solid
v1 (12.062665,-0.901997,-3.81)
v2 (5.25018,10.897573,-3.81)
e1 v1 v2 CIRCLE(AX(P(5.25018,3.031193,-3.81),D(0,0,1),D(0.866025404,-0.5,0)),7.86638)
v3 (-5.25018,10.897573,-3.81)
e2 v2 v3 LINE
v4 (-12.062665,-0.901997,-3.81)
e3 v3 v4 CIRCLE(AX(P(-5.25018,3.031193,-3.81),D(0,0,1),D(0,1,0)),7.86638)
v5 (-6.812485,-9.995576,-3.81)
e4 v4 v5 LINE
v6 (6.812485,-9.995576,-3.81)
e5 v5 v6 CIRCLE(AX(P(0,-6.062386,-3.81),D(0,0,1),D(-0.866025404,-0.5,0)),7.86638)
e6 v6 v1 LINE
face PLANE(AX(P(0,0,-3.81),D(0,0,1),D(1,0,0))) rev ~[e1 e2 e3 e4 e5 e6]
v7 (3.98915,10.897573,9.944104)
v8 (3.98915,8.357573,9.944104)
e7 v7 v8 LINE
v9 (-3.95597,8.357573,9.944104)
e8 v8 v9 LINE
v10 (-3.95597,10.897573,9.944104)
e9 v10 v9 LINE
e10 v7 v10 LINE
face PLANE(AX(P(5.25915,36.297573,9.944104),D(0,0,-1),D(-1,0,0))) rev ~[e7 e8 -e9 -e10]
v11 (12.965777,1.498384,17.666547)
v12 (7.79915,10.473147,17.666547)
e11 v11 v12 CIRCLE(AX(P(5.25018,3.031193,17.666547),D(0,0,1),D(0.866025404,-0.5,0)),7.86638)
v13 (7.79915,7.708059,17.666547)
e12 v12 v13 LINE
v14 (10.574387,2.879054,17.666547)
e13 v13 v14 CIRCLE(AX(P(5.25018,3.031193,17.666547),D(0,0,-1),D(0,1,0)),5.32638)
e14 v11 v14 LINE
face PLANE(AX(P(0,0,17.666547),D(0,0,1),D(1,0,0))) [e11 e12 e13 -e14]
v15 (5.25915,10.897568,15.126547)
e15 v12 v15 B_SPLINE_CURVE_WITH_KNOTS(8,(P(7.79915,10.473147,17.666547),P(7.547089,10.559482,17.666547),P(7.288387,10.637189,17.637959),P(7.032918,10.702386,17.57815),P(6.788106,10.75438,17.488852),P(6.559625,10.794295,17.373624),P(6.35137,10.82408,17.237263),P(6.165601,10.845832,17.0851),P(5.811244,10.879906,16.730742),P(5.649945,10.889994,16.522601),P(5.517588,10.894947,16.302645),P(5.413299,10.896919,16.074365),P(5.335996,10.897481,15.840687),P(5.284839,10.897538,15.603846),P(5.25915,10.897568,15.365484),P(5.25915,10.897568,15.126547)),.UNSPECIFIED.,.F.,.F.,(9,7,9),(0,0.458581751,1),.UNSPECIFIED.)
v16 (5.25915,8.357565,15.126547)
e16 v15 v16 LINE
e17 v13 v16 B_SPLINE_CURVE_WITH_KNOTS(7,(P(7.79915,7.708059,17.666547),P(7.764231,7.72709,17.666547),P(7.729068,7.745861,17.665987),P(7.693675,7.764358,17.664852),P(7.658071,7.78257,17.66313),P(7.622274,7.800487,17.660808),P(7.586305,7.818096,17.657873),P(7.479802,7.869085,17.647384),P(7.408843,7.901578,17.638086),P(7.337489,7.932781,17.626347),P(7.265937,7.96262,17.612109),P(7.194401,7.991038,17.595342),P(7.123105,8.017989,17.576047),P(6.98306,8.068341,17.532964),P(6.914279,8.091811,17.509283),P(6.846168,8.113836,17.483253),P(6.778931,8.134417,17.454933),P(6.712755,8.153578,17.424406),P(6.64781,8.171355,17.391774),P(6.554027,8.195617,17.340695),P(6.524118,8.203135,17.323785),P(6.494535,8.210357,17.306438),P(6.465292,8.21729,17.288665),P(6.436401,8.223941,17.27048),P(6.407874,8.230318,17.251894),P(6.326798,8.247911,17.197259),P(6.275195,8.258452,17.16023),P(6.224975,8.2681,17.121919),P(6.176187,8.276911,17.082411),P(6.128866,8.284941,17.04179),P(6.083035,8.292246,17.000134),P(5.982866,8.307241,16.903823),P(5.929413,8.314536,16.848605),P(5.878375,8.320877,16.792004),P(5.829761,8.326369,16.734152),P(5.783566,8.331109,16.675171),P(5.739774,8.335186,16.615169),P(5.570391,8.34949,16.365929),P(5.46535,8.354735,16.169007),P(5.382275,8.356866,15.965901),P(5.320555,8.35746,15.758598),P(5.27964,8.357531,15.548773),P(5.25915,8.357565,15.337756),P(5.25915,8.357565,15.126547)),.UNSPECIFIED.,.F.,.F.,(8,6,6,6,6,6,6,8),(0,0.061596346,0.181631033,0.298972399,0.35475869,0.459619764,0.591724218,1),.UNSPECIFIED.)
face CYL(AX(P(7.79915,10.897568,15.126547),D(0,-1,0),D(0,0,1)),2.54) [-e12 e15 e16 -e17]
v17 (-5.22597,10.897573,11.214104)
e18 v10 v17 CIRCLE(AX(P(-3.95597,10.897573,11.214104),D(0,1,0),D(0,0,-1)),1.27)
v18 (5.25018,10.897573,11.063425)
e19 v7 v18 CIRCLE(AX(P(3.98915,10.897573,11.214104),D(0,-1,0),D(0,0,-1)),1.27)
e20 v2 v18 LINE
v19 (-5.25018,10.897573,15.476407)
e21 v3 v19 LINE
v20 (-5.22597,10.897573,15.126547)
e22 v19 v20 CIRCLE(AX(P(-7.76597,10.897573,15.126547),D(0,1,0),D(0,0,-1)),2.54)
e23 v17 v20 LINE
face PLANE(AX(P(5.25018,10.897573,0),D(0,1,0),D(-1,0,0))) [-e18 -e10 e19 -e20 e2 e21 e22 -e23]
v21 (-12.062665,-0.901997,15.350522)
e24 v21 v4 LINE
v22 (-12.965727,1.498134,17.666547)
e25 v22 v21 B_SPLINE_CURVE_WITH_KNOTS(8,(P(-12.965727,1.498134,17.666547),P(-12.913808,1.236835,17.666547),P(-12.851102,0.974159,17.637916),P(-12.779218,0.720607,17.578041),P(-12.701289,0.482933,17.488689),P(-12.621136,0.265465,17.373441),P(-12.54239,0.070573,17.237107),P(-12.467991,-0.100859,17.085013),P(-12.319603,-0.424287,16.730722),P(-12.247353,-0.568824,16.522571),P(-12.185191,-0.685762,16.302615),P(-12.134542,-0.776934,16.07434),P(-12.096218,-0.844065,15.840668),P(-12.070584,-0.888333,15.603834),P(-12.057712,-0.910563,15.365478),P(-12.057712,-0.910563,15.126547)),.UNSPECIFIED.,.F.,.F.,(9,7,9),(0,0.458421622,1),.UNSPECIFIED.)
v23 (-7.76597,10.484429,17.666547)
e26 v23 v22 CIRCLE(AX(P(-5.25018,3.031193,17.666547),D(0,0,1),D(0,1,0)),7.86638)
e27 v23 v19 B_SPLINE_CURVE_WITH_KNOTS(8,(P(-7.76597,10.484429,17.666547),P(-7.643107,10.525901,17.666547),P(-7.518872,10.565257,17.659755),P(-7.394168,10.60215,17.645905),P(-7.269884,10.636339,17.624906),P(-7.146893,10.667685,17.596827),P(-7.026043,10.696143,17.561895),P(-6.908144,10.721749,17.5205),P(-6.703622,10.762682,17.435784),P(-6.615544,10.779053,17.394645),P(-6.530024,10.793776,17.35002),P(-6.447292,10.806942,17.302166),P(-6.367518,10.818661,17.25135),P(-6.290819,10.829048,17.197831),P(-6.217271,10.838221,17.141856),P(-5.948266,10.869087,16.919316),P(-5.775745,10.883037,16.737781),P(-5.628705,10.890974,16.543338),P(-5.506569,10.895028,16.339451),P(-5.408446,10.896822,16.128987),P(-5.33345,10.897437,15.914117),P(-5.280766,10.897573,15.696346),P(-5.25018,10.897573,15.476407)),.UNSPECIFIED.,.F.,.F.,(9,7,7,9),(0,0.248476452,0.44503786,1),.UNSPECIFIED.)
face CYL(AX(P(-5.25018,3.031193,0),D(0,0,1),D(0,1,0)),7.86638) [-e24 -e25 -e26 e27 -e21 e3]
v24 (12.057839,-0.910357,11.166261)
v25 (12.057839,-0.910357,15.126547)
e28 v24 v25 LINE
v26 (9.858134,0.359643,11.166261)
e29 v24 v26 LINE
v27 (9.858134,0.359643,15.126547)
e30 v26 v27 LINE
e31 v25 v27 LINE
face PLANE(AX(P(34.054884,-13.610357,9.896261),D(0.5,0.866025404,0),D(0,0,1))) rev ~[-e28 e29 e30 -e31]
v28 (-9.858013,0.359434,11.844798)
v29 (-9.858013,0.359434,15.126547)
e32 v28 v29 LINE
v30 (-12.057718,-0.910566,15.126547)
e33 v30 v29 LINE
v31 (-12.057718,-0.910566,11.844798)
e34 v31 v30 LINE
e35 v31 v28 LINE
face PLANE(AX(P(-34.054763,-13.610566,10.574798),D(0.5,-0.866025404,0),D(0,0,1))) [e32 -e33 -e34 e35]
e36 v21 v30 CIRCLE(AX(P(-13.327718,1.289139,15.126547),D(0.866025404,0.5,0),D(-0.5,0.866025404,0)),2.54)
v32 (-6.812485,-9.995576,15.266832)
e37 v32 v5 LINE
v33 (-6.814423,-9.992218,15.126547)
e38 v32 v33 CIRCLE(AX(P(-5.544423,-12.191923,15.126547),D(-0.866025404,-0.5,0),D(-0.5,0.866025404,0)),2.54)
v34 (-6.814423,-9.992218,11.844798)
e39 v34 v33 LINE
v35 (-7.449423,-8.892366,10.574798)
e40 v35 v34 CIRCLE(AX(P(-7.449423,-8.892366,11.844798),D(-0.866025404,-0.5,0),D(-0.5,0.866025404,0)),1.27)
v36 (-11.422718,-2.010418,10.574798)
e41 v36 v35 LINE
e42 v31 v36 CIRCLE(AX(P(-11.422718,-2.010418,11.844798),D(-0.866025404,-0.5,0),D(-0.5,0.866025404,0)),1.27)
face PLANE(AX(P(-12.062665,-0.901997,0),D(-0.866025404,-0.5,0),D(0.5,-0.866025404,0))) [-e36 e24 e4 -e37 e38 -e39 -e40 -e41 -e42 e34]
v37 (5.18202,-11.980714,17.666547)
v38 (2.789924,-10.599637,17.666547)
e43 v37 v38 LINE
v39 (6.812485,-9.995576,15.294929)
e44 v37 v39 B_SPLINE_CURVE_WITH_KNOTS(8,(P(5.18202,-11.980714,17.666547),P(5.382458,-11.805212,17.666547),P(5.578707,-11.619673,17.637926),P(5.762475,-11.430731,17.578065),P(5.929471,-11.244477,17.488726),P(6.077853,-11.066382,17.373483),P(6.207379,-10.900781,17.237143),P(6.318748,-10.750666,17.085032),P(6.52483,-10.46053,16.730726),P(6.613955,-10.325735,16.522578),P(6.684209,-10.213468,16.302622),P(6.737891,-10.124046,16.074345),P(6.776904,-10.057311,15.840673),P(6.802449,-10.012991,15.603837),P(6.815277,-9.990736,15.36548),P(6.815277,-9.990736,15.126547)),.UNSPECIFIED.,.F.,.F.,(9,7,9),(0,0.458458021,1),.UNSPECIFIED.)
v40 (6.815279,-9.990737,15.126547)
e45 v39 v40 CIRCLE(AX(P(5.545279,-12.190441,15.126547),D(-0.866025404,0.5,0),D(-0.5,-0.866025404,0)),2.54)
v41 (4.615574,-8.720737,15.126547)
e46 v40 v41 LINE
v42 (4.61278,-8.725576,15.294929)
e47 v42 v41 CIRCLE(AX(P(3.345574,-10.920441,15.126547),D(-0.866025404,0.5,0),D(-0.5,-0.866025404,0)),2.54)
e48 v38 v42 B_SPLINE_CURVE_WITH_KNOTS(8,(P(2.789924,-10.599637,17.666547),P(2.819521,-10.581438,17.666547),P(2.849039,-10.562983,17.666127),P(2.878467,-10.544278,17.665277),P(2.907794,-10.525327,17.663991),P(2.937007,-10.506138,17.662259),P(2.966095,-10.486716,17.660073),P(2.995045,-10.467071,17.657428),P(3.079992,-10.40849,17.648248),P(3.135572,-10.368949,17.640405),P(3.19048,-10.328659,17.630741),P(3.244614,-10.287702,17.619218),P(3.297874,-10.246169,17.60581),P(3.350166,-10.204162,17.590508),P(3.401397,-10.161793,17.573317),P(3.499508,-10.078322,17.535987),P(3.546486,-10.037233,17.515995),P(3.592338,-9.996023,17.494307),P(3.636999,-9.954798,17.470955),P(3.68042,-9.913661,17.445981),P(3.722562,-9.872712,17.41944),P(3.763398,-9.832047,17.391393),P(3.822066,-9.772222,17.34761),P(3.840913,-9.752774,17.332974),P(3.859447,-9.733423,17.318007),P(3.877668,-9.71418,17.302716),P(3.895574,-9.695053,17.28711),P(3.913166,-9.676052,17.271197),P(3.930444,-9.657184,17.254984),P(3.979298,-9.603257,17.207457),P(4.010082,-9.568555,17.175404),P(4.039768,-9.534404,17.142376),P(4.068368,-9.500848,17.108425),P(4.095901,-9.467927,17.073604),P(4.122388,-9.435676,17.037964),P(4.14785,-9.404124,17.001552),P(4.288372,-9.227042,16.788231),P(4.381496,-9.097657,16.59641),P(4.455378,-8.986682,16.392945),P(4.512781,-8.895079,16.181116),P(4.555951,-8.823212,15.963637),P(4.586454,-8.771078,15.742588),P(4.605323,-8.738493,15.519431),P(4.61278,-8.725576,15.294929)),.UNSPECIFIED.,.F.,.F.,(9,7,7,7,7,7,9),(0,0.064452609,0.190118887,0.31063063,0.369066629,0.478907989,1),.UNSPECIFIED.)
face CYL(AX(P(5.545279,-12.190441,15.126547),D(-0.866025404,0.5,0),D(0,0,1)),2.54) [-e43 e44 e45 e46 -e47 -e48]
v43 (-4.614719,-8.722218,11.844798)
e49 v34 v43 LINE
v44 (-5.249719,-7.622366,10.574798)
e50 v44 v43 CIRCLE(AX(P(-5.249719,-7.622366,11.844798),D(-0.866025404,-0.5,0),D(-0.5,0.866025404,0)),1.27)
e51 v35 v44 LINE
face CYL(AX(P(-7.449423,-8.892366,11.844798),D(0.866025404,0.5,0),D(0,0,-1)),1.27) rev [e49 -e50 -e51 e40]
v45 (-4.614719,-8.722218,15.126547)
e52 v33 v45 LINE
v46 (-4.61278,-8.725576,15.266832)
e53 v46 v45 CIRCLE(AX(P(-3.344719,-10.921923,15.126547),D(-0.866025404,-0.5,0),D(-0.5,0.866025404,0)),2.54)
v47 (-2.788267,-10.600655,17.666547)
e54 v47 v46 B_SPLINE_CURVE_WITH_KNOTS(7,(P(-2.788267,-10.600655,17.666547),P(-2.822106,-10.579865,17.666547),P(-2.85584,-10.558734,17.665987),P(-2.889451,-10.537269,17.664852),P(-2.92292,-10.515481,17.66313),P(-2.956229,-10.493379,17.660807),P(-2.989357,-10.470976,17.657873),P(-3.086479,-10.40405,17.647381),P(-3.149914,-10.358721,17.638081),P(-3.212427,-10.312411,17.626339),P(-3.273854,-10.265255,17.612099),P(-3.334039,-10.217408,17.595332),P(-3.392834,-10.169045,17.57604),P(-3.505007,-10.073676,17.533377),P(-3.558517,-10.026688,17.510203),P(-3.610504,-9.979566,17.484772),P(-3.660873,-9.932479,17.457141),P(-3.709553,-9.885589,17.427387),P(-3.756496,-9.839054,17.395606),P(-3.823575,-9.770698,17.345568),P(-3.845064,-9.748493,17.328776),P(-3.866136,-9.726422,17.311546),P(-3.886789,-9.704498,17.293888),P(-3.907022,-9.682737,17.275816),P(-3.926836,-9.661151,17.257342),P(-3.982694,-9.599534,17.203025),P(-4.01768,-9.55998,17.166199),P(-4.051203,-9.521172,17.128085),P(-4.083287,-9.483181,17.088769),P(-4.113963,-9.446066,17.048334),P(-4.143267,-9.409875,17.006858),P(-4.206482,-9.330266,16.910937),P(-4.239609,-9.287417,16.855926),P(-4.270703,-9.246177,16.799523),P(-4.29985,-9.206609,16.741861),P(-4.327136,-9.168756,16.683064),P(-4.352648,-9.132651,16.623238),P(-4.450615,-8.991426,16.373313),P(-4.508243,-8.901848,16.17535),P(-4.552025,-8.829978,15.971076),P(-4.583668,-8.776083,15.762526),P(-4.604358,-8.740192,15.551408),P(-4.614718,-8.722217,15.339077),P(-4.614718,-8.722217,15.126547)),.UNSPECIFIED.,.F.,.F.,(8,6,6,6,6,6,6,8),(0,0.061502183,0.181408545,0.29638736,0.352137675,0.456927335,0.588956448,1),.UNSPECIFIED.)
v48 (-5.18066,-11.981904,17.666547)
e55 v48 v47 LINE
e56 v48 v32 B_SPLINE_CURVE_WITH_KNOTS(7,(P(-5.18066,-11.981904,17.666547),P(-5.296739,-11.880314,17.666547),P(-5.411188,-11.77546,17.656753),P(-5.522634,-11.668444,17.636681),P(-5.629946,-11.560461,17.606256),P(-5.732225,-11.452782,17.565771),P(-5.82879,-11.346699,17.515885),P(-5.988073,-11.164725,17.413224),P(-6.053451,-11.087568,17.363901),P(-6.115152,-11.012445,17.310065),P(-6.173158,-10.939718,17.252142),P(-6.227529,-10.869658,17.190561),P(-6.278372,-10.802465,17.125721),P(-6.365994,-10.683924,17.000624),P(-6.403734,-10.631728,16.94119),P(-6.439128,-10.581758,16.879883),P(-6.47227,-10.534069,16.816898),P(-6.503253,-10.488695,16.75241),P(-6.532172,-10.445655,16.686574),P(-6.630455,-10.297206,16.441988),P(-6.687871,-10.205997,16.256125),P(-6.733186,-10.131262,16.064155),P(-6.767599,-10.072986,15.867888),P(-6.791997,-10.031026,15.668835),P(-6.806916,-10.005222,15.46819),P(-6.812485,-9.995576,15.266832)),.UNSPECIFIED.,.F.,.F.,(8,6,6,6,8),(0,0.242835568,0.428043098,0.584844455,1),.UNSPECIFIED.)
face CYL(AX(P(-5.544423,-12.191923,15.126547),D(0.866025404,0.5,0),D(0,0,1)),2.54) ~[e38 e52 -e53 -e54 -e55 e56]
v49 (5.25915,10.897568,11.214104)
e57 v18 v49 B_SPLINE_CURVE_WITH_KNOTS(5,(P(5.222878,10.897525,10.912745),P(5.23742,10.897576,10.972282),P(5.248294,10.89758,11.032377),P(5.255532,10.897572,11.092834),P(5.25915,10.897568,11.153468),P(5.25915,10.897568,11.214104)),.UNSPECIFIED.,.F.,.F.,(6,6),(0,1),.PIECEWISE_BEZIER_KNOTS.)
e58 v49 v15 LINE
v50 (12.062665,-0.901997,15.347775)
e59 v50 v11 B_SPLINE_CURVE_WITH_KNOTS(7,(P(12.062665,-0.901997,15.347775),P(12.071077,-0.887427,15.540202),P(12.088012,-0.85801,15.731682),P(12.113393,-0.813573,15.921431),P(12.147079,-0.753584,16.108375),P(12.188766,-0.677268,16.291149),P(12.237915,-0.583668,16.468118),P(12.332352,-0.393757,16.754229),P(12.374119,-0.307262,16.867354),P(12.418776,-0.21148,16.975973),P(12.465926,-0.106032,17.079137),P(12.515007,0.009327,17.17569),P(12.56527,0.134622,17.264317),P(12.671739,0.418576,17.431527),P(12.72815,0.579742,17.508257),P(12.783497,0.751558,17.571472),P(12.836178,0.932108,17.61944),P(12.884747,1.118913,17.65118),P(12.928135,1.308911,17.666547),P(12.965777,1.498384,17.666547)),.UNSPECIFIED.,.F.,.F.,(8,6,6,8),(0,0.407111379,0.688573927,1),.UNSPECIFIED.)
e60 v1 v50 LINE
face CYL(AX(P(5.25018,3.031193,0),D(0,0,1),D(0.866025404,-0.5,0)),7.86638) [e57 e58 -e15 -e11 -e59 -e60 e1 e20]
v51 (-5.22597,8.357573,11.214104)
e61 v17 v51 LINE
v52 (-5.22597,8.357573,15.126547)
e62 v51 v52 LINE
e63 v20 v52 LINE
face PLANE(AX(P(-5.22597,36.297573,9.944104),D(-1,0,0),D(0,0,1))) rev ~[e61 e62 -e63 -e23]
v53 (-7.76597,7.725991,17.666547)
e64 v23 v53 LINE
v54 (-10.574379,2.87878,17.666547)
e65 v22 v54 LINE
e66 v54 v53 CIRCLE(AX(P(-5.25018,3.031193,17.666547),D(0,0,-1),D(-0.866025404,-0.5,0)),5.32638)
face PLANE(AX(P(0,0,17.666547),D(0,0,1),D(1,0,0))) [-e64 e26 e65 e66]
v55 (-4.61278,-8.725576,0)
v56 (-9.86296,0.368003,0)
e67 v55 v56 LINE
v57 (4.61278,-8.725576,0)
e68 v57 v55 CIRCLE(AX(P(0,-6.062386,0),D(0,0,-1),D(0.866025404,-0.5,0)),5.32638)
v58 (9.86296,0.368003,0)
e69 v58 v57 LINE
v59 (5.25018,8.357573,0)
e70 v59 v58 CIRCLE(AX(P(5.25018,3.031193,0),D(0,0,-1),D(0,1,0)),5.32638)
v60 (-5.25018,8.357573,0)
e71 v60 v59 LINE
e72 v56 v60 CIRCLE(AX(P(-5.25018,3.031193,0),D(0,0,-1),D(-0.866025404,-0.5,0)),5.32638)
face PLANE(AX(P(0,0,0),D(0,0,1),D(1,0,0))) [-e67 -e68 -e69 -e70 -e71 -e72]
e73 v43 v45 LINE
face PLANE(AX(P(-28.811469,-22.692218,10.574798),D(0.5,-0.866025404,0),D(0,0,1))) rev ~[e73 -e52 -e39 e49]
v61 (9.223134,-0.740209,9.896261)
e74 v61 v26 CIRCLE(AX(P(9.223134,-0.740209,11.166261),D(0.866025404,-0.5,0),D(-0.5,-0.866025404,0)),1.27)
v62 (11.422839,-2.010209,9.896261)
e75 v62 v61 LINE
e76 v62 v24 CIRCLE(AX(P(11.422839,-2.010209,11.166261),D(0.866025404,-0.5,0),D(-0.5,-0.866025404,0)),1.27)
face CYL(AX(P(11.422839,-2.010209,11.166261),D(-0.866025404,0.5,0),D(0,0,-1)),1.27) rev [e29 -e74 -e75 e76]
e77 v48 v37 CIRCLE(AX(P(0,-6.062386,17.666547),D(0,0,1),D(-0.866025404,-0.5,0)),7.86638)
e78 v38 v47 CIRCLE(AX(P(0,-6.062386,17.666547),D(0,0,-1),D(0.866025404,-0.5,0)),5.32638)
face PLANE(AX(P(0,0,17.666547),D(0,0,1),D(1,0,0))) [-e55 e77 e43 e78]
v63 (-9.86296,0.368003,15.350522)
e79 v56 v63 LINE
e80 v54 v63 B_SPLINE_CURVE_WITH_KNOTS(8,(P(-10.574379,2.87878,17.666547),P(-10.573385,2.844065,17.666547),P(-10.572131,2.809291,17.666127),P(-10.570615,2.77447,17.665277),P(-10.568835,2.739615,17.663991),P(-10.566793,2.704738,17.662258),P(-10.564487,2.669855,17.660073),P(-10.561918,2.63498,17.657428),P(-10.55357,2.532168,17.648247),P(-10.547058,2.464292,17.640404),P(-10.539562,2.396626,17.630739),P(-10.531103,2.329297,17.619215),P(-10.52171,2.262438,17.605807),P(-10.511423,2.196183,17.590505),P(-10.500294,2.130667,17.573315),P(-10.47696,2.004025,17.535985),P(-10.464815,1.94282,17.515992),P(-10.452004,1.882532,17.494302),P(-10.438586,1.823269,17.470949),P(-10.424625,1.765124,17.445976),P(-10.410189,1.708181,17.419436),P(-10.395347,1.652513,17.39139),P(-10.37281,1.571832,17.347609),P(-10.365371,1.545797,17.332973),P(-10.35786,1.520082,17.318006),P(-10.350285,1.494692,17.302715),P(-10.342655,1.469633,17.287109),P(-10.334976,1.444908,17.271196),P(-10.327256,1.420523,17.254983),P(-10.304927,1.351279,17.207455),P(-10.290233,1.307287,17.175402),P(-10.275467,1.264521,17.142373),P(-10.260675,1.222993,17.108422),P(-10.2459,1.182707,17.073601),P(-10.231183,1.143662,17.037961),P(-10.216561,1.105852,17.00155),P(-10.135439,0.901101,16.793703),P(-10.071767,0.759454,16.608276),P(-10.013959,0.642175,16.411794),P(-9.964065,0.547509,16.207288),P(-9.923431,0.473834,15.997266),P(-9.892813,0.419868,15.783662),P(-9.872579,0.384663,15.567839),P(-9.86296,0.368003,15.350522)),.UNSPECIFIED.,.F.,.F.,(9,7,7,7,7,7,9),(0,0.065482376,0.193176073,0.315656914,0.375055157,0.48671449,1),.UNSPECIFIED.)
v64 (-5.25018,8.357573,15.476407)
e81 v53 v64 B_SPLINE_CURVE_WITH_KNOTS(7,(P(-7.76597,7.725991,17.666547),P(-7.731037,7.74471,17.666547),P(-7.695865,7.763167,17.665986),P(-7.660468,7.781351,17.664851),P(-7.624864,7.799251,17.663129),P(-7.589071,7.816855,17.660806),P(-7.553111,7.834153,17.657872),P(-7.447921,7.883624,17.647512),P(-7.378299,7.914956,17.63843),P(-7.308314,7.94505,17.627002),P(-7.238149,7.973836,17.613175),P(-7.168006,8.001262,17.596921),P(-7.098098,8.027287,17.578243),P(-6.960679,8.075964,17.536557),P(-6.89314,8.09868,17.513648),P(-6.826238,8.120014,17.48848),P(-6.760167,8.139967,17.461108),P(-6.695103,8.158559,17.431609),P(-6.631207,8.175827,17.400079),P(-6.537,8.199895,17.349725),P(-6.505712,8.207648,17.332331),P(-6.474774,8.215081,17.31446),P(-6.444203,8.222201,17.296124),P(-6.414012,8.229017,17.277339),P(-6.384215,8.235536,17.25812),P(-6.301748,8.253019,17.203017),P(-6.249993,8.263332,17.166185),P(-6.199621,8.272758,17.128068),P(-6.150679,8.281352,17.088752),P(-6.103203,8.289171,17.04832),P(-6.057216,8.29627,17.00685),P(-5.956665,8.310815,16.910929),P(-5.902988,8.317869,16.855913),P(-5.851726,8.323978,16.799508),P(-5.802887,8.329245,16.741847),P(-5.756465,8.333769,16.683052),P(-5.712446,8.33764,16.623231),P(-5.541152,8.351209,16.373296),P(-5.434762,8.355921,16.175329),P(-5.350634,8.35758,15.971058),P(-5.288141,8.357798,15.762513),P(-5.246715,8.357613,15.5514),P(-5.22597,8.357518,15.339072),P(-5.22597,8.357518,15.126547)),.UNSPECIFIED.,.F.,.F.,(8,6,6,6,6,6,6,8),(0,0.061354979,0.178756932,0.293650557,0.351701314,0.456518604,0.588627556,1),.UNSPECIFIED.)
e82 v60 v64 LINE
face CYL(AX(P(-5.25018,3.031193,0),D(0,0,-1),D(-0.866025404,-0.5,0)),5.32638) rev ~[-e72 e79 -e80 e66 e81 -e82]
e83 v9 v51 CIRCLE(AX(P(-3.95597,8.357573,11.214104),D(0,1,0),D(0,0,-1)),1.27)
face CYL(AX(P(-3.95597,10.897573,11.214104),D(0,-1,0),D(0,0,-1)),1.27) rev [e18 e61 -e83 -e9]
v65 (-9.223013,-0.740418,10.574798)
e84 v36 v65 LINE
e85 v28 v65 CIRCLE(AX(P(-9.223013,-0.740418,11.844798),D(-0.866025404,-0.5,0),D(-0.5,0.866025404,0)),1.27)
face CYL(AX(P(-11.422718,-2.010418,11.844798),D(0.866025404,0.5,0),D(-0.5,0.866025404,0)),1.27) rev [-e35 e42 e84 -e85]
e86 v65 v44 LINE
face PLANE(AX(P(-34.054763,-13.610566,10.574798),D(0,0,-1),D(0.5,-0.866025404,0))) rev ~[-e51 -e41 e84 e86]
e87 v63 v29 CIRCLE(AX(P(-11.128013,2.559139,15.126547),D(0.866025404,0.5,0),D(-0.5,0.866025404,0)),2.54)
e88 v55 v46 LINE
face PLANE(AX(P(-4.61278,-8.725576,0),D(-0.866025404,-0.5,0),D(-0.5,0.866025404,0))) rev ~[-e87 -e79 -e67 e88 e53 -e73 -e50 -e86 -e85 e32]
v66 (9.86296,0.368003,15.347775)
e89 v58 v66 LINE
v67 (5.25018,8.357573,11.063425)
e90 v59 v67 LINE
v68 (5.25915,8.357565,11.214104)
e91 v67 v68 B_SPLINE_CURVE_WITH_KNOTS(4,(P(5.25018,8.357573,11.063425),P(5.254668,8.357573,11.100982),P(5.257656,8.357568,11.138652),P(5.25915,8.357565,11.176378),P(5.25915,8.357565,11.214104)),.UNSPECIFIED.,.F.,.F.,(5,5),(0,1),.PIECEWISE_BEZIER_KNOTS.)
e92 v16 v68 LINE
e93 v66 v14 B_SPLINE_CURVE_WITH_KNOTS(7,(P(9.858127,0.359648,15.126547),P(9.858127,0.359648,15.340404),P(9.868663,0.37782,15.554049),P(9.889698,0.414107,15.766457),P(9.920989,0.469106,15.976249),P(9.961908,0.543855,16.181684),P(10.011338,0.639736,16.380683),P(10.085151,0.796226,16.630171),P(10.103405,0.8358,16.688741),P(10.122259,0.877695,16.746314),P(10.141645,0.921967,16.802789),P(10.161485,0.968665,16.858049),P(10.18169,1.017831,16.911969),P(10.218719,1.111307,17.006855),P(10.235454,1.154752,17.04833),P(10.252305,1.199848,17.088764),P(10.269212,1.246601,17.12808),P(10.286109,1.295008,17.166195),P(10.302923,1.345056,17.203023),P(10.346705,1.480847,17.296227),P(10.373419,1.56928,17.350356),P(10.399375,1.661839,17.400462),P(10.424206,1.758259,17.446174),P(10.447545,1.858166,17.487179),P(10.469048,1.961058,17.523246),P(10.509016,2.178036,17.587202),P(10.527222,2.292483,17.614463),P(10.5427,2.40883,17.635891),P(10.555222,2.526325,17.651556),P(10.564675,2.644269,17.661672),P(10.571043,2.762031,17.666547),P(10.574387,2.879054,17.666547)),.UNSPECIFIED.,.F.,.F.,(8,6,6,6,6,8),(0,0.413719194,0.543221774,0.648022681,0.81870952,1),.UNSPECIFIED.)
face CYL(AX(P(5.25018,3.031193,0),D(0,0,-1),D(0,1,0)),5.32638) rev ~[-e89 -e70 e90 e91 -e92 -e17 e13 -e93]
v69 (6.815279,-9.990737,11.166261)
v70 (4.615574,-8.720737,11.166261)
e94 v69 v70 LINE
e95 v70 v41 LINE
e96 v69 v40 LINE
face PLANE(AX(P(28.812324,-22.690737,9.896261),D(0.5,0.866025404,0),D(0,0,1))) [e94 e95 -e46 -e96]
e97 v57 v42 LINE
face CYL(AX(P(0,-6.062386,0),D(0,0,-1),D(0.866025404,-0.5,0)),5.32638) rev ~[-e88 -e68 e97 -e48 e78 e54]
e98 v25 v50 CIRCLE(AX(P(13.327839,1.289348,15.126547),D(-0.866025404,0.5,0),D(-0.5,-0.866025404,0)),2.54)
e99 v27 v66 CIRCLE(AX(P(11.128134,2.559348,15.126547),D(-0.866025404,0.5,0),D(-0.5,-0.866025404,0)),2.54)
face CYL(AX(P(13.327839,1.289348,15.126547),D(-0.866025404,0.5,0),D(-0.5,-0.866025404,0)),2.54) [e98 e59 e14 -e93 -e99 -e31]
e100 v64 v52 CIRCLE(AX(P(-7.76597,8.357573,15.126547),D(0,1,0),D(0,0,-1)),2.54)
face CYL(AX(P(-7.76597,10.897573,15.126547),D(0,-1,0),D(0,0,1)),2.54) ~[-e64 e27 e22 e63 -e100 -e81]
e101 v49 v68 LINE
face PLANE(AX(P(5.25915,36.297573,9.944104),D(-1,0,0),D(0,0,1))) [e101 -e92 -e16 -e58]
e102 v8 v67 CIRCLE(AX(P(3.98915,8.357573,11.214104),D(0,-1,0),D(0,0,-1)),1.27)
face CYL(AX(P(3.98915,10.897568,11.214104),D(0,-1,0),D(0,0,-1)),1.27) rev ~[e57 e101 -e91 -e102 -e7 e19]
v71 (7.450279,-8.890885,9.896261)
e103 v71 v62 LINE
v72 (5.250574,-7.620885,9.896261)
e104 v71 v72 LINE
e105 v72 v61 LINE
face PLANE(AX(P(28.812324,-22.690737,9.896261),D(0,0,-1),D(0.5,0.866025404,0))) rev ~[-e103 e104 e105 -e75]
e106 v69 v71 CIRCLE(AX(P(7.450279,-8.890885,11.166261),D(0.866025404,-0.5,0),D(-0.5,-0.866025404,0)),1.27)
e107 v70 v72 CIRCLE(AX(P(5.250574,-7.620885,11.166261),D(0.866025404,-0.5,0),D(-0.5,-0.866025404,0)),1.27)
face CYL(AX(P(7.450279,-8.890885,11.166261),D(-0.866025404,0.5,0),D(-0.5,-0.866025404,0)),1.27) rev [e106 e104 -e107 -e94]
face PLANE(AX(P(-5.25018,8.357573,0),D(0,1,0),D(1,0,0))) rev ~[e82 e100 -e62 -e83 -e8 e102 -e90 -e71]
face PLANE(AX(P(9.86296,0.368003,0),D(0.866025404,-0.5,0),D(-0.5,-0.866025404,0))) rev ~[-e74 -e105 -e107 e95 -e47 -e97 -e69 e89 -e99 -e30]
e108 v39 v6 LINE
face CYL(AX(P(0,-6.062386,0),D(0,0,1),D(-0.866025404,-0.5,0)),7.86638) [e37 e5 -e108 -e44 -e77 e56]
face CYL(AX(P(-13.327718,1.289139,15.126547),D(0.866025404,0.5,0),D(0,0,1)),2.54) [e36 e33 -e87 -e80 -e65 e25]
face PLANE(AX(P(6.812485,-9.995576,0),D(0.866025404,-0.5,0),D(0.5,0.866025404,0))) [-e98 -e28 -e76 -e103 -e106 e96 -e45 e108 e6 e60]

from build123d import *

# Parameters (mm, degrees)
F2_DEPTH  = 17.6665466667
F3_DEPTH  = 3.81
F5_W      = 10.4865888134
F5_H      = 7.7739614062
F6_DEPTH  = 30.1752
F8_W      = 10.48512
F8_H      = 7.7724
F9_DEPTH  = 32.004
F11_W     = 10.48512
F11_H     = 7.7724
F12_DEPTH = 31.6738
F13_R     = 2.54
F14_R     = 1.27


with BuildPart() as f2:
    # F1 (on Top) → F2 (new body)
    with BuildSketch(Plane.XY):
        with BuildLine():
            Line((6.8124849158, -9.9955756726), (12.0626649158, -0.9019971637))
            ThreePointArc((12.0626649158, -0.9019971637), (12.0626649158, 6.9643828363), (5.25018, 10.8975728363))
            Line((5.25018, 10.8975728363), (-5.25018, 10.8975728363))
            ThreePointArc((-5.25018, 10.8975728363), (-12.0626649158, 6.9643828363), (-12.0626649158, -0.9019971637))
            Line((-12.0626649158, -0.9019971637), (-6.8124849158, -9.9955756726))
            ThreePointArc((-6.8124849158, -9.9955756726), (0, -13.9287656726), (6.8124849158, -9.9955756726))
        make_face()
        with BuildLine():
            ThreePointArc((-9.8629603902, 0.3680028363), (-9.8629603902, 5.6943828363), (-5.25018, 8.3575728363))
            Line((-5.25018, 8.3575728363), (5.25018, 8.3575728363))
            ThreePointArc((5.25018, 8.3575728363), (9.8629603902, 5.6943828363), (9.8629603902, 0.3680028363))
            Line((9.8629603902, 0.3680028363), (4.6127803902, -8.7255756726))
            ThreePointArc((4.6127803902, -8.7255756726), (0, -11.3887656726), (-4.6127803902, -8.7255756726))
            Line((-4.6127803902, -8.7255756726), (-9.8629603902, 0.3680028363))
        make_face(mode=Mode.SUBTRACT)
    extrude(amount=F2_DEPTH)

    # F1 (on Top) → F3 (join)
    with BuildSketch(Plane.XY):
        with BuildLine():
            Line((6.8124849158, -9.9955756726), (12.0626649158, -0.9019971637))
            ThreePointArc((12.0626649158, -0.9019971637), (12.0626649158, 6.9643828363), (5.25018, 10.8975728363))
            Line((5.25018, 10.8975728363), (-5.25018, 10.8975728363))
            ThreePointArc((-5.25018, 10.8975728363), (-12.0626649158, 6.9643828363), (-12.0626649158, -0.9019971637))
            Line((-12.0626649158, -0.9019971637), (-6.8124849158, -9.9955756726))
            ThreePointArc((-6.8124849158, -9.9955756726), (0, -13.9287656726), (6.8124849158, -9.9955756726))
        make_face()
        with BuildLine():
            ThreePointArc((-9.8629603902, 0.3680028363), (-9.8629603902, 5.6943828363), (-5.25018, 8.3575728363))
            Line((-5.25018, 8.3575728363), (5.25018, 8.3575728363))
            ThreePointArc((5.25018, 8.3575728363), (9.8629603902, 5.6943828363), (9.8629603902, 0.3680028363))
            Line((9.8629603902, 0.3680028363), (4.6127803902, -8.7255756726))
            ThreePointArc((4.6127803902, -8.7255756726), (0, -11.3887656726), (-4.6127803902, -8.7255756726))
            Line((-4.6127803902, -8.7255756726), (-9.8629603902, 0.3680028363))
        make_face(mode=Mode.SUBTRACT)
        with BuildLine():
            Line((5.25018, 8.3575728363), (-5.25018, 8.3575728363))
            ThreePointArc((-5.25018, 8.3575728363), (-9.8629603902, 5.6943828363), (-9.8629603902, 0.3680028363))
            Line((-9.8629603902, 0.3680028363), (-4.6127803902, -8.7255756726))
            ThreePointArc((-4.6127803902, -8.7255756726), (0, -11.3887656726), (4.6127803902, -8.7255756726))
            Line((4.6127803902, -8.7255756726), (9.8629603902, 0.3680028363))
            ThreePointArc((9.8629603902, 0.3680028363), (9.8629603902, 5.6943828363), (5.25018, 8.3575728363))
        make_face()
    extrude(amount=-F3_DEPTH)

    # F5 (on offset) → F6 (cut)
    with BuildSketch(Plane(origin=(-31.4346201719, -18.1487864181, 0), x_dir=(0.5, -0.8660254038, 0), z_dir=(-0.8660254038, -0.5, 0))):
        with Locations((0.0030086376, 14.4617783371)):
            Rectangle(F5_W, F5_H)
    extrude(amount=-F6_DEPTH, mode=Mode.SUBTRACT)

    # F8 (on offset) → F9 (cut)
    with BuildSketch(Plane(origin=(0, 36.2975728363, 0), x_dir=(-1, 0, 0), z_dir=(0, 1, 0))):
        with Locations((-0.0165903475, 13.8303037011)):
            Rectangle(F8_W, F8_H)
    extrude(amount=-F9_DEPTH, mode=Mode.SUBTRACT)

    # F11 (on offset) → F12 (cut)
    with BuildSketch(Plane(origin=(31.4346201719, -18.1487864181, 0), x_dir=(0.5, 0.8660254038, 0), z_dir=(0.8660254038, -0.5, 0))):
        with Locations((-0.0020326115, 13.782461328)):
            Rectangle(F11_W, F11_H)
    extrude(amount=-F12_DEPTH, mode=Mode.SUBTRACT)

    # F13
    f13_edges = [f2.edges().sort_by_distance(p)[0] for p in [
        (5.25915, 9.627567, 17.666547),
        (-5.22597, 9.627573, 17.666547),
        (5.715426, -9.355737, 17.666547),
        (10.957986, -0.275357, 17.666547),
        (-5.714571, -9.357218, 17.666547),
        (-10.957866, -0.275566, 17.666547),
    ]]
    fillet(f13_edges, radius=F13_R)

    # F14
    f14_edges = [f2.edges().sort_by_distance(p)[0] for p in [
        (-5.714571, -9.357218, 10.574798),
        (5.25915, 9.627567, 9.944104),
        (-5.22597, 9.627573, 9.944104),
        (5.715426, -9.355737, 9.896261),
        (10.957986, -0.275357, 9.896261),
        (-10.957866, -0.275566, 10.574798),
    ]]
    fillet(f14_edges, radius=F14_R)


solid = f2.part
